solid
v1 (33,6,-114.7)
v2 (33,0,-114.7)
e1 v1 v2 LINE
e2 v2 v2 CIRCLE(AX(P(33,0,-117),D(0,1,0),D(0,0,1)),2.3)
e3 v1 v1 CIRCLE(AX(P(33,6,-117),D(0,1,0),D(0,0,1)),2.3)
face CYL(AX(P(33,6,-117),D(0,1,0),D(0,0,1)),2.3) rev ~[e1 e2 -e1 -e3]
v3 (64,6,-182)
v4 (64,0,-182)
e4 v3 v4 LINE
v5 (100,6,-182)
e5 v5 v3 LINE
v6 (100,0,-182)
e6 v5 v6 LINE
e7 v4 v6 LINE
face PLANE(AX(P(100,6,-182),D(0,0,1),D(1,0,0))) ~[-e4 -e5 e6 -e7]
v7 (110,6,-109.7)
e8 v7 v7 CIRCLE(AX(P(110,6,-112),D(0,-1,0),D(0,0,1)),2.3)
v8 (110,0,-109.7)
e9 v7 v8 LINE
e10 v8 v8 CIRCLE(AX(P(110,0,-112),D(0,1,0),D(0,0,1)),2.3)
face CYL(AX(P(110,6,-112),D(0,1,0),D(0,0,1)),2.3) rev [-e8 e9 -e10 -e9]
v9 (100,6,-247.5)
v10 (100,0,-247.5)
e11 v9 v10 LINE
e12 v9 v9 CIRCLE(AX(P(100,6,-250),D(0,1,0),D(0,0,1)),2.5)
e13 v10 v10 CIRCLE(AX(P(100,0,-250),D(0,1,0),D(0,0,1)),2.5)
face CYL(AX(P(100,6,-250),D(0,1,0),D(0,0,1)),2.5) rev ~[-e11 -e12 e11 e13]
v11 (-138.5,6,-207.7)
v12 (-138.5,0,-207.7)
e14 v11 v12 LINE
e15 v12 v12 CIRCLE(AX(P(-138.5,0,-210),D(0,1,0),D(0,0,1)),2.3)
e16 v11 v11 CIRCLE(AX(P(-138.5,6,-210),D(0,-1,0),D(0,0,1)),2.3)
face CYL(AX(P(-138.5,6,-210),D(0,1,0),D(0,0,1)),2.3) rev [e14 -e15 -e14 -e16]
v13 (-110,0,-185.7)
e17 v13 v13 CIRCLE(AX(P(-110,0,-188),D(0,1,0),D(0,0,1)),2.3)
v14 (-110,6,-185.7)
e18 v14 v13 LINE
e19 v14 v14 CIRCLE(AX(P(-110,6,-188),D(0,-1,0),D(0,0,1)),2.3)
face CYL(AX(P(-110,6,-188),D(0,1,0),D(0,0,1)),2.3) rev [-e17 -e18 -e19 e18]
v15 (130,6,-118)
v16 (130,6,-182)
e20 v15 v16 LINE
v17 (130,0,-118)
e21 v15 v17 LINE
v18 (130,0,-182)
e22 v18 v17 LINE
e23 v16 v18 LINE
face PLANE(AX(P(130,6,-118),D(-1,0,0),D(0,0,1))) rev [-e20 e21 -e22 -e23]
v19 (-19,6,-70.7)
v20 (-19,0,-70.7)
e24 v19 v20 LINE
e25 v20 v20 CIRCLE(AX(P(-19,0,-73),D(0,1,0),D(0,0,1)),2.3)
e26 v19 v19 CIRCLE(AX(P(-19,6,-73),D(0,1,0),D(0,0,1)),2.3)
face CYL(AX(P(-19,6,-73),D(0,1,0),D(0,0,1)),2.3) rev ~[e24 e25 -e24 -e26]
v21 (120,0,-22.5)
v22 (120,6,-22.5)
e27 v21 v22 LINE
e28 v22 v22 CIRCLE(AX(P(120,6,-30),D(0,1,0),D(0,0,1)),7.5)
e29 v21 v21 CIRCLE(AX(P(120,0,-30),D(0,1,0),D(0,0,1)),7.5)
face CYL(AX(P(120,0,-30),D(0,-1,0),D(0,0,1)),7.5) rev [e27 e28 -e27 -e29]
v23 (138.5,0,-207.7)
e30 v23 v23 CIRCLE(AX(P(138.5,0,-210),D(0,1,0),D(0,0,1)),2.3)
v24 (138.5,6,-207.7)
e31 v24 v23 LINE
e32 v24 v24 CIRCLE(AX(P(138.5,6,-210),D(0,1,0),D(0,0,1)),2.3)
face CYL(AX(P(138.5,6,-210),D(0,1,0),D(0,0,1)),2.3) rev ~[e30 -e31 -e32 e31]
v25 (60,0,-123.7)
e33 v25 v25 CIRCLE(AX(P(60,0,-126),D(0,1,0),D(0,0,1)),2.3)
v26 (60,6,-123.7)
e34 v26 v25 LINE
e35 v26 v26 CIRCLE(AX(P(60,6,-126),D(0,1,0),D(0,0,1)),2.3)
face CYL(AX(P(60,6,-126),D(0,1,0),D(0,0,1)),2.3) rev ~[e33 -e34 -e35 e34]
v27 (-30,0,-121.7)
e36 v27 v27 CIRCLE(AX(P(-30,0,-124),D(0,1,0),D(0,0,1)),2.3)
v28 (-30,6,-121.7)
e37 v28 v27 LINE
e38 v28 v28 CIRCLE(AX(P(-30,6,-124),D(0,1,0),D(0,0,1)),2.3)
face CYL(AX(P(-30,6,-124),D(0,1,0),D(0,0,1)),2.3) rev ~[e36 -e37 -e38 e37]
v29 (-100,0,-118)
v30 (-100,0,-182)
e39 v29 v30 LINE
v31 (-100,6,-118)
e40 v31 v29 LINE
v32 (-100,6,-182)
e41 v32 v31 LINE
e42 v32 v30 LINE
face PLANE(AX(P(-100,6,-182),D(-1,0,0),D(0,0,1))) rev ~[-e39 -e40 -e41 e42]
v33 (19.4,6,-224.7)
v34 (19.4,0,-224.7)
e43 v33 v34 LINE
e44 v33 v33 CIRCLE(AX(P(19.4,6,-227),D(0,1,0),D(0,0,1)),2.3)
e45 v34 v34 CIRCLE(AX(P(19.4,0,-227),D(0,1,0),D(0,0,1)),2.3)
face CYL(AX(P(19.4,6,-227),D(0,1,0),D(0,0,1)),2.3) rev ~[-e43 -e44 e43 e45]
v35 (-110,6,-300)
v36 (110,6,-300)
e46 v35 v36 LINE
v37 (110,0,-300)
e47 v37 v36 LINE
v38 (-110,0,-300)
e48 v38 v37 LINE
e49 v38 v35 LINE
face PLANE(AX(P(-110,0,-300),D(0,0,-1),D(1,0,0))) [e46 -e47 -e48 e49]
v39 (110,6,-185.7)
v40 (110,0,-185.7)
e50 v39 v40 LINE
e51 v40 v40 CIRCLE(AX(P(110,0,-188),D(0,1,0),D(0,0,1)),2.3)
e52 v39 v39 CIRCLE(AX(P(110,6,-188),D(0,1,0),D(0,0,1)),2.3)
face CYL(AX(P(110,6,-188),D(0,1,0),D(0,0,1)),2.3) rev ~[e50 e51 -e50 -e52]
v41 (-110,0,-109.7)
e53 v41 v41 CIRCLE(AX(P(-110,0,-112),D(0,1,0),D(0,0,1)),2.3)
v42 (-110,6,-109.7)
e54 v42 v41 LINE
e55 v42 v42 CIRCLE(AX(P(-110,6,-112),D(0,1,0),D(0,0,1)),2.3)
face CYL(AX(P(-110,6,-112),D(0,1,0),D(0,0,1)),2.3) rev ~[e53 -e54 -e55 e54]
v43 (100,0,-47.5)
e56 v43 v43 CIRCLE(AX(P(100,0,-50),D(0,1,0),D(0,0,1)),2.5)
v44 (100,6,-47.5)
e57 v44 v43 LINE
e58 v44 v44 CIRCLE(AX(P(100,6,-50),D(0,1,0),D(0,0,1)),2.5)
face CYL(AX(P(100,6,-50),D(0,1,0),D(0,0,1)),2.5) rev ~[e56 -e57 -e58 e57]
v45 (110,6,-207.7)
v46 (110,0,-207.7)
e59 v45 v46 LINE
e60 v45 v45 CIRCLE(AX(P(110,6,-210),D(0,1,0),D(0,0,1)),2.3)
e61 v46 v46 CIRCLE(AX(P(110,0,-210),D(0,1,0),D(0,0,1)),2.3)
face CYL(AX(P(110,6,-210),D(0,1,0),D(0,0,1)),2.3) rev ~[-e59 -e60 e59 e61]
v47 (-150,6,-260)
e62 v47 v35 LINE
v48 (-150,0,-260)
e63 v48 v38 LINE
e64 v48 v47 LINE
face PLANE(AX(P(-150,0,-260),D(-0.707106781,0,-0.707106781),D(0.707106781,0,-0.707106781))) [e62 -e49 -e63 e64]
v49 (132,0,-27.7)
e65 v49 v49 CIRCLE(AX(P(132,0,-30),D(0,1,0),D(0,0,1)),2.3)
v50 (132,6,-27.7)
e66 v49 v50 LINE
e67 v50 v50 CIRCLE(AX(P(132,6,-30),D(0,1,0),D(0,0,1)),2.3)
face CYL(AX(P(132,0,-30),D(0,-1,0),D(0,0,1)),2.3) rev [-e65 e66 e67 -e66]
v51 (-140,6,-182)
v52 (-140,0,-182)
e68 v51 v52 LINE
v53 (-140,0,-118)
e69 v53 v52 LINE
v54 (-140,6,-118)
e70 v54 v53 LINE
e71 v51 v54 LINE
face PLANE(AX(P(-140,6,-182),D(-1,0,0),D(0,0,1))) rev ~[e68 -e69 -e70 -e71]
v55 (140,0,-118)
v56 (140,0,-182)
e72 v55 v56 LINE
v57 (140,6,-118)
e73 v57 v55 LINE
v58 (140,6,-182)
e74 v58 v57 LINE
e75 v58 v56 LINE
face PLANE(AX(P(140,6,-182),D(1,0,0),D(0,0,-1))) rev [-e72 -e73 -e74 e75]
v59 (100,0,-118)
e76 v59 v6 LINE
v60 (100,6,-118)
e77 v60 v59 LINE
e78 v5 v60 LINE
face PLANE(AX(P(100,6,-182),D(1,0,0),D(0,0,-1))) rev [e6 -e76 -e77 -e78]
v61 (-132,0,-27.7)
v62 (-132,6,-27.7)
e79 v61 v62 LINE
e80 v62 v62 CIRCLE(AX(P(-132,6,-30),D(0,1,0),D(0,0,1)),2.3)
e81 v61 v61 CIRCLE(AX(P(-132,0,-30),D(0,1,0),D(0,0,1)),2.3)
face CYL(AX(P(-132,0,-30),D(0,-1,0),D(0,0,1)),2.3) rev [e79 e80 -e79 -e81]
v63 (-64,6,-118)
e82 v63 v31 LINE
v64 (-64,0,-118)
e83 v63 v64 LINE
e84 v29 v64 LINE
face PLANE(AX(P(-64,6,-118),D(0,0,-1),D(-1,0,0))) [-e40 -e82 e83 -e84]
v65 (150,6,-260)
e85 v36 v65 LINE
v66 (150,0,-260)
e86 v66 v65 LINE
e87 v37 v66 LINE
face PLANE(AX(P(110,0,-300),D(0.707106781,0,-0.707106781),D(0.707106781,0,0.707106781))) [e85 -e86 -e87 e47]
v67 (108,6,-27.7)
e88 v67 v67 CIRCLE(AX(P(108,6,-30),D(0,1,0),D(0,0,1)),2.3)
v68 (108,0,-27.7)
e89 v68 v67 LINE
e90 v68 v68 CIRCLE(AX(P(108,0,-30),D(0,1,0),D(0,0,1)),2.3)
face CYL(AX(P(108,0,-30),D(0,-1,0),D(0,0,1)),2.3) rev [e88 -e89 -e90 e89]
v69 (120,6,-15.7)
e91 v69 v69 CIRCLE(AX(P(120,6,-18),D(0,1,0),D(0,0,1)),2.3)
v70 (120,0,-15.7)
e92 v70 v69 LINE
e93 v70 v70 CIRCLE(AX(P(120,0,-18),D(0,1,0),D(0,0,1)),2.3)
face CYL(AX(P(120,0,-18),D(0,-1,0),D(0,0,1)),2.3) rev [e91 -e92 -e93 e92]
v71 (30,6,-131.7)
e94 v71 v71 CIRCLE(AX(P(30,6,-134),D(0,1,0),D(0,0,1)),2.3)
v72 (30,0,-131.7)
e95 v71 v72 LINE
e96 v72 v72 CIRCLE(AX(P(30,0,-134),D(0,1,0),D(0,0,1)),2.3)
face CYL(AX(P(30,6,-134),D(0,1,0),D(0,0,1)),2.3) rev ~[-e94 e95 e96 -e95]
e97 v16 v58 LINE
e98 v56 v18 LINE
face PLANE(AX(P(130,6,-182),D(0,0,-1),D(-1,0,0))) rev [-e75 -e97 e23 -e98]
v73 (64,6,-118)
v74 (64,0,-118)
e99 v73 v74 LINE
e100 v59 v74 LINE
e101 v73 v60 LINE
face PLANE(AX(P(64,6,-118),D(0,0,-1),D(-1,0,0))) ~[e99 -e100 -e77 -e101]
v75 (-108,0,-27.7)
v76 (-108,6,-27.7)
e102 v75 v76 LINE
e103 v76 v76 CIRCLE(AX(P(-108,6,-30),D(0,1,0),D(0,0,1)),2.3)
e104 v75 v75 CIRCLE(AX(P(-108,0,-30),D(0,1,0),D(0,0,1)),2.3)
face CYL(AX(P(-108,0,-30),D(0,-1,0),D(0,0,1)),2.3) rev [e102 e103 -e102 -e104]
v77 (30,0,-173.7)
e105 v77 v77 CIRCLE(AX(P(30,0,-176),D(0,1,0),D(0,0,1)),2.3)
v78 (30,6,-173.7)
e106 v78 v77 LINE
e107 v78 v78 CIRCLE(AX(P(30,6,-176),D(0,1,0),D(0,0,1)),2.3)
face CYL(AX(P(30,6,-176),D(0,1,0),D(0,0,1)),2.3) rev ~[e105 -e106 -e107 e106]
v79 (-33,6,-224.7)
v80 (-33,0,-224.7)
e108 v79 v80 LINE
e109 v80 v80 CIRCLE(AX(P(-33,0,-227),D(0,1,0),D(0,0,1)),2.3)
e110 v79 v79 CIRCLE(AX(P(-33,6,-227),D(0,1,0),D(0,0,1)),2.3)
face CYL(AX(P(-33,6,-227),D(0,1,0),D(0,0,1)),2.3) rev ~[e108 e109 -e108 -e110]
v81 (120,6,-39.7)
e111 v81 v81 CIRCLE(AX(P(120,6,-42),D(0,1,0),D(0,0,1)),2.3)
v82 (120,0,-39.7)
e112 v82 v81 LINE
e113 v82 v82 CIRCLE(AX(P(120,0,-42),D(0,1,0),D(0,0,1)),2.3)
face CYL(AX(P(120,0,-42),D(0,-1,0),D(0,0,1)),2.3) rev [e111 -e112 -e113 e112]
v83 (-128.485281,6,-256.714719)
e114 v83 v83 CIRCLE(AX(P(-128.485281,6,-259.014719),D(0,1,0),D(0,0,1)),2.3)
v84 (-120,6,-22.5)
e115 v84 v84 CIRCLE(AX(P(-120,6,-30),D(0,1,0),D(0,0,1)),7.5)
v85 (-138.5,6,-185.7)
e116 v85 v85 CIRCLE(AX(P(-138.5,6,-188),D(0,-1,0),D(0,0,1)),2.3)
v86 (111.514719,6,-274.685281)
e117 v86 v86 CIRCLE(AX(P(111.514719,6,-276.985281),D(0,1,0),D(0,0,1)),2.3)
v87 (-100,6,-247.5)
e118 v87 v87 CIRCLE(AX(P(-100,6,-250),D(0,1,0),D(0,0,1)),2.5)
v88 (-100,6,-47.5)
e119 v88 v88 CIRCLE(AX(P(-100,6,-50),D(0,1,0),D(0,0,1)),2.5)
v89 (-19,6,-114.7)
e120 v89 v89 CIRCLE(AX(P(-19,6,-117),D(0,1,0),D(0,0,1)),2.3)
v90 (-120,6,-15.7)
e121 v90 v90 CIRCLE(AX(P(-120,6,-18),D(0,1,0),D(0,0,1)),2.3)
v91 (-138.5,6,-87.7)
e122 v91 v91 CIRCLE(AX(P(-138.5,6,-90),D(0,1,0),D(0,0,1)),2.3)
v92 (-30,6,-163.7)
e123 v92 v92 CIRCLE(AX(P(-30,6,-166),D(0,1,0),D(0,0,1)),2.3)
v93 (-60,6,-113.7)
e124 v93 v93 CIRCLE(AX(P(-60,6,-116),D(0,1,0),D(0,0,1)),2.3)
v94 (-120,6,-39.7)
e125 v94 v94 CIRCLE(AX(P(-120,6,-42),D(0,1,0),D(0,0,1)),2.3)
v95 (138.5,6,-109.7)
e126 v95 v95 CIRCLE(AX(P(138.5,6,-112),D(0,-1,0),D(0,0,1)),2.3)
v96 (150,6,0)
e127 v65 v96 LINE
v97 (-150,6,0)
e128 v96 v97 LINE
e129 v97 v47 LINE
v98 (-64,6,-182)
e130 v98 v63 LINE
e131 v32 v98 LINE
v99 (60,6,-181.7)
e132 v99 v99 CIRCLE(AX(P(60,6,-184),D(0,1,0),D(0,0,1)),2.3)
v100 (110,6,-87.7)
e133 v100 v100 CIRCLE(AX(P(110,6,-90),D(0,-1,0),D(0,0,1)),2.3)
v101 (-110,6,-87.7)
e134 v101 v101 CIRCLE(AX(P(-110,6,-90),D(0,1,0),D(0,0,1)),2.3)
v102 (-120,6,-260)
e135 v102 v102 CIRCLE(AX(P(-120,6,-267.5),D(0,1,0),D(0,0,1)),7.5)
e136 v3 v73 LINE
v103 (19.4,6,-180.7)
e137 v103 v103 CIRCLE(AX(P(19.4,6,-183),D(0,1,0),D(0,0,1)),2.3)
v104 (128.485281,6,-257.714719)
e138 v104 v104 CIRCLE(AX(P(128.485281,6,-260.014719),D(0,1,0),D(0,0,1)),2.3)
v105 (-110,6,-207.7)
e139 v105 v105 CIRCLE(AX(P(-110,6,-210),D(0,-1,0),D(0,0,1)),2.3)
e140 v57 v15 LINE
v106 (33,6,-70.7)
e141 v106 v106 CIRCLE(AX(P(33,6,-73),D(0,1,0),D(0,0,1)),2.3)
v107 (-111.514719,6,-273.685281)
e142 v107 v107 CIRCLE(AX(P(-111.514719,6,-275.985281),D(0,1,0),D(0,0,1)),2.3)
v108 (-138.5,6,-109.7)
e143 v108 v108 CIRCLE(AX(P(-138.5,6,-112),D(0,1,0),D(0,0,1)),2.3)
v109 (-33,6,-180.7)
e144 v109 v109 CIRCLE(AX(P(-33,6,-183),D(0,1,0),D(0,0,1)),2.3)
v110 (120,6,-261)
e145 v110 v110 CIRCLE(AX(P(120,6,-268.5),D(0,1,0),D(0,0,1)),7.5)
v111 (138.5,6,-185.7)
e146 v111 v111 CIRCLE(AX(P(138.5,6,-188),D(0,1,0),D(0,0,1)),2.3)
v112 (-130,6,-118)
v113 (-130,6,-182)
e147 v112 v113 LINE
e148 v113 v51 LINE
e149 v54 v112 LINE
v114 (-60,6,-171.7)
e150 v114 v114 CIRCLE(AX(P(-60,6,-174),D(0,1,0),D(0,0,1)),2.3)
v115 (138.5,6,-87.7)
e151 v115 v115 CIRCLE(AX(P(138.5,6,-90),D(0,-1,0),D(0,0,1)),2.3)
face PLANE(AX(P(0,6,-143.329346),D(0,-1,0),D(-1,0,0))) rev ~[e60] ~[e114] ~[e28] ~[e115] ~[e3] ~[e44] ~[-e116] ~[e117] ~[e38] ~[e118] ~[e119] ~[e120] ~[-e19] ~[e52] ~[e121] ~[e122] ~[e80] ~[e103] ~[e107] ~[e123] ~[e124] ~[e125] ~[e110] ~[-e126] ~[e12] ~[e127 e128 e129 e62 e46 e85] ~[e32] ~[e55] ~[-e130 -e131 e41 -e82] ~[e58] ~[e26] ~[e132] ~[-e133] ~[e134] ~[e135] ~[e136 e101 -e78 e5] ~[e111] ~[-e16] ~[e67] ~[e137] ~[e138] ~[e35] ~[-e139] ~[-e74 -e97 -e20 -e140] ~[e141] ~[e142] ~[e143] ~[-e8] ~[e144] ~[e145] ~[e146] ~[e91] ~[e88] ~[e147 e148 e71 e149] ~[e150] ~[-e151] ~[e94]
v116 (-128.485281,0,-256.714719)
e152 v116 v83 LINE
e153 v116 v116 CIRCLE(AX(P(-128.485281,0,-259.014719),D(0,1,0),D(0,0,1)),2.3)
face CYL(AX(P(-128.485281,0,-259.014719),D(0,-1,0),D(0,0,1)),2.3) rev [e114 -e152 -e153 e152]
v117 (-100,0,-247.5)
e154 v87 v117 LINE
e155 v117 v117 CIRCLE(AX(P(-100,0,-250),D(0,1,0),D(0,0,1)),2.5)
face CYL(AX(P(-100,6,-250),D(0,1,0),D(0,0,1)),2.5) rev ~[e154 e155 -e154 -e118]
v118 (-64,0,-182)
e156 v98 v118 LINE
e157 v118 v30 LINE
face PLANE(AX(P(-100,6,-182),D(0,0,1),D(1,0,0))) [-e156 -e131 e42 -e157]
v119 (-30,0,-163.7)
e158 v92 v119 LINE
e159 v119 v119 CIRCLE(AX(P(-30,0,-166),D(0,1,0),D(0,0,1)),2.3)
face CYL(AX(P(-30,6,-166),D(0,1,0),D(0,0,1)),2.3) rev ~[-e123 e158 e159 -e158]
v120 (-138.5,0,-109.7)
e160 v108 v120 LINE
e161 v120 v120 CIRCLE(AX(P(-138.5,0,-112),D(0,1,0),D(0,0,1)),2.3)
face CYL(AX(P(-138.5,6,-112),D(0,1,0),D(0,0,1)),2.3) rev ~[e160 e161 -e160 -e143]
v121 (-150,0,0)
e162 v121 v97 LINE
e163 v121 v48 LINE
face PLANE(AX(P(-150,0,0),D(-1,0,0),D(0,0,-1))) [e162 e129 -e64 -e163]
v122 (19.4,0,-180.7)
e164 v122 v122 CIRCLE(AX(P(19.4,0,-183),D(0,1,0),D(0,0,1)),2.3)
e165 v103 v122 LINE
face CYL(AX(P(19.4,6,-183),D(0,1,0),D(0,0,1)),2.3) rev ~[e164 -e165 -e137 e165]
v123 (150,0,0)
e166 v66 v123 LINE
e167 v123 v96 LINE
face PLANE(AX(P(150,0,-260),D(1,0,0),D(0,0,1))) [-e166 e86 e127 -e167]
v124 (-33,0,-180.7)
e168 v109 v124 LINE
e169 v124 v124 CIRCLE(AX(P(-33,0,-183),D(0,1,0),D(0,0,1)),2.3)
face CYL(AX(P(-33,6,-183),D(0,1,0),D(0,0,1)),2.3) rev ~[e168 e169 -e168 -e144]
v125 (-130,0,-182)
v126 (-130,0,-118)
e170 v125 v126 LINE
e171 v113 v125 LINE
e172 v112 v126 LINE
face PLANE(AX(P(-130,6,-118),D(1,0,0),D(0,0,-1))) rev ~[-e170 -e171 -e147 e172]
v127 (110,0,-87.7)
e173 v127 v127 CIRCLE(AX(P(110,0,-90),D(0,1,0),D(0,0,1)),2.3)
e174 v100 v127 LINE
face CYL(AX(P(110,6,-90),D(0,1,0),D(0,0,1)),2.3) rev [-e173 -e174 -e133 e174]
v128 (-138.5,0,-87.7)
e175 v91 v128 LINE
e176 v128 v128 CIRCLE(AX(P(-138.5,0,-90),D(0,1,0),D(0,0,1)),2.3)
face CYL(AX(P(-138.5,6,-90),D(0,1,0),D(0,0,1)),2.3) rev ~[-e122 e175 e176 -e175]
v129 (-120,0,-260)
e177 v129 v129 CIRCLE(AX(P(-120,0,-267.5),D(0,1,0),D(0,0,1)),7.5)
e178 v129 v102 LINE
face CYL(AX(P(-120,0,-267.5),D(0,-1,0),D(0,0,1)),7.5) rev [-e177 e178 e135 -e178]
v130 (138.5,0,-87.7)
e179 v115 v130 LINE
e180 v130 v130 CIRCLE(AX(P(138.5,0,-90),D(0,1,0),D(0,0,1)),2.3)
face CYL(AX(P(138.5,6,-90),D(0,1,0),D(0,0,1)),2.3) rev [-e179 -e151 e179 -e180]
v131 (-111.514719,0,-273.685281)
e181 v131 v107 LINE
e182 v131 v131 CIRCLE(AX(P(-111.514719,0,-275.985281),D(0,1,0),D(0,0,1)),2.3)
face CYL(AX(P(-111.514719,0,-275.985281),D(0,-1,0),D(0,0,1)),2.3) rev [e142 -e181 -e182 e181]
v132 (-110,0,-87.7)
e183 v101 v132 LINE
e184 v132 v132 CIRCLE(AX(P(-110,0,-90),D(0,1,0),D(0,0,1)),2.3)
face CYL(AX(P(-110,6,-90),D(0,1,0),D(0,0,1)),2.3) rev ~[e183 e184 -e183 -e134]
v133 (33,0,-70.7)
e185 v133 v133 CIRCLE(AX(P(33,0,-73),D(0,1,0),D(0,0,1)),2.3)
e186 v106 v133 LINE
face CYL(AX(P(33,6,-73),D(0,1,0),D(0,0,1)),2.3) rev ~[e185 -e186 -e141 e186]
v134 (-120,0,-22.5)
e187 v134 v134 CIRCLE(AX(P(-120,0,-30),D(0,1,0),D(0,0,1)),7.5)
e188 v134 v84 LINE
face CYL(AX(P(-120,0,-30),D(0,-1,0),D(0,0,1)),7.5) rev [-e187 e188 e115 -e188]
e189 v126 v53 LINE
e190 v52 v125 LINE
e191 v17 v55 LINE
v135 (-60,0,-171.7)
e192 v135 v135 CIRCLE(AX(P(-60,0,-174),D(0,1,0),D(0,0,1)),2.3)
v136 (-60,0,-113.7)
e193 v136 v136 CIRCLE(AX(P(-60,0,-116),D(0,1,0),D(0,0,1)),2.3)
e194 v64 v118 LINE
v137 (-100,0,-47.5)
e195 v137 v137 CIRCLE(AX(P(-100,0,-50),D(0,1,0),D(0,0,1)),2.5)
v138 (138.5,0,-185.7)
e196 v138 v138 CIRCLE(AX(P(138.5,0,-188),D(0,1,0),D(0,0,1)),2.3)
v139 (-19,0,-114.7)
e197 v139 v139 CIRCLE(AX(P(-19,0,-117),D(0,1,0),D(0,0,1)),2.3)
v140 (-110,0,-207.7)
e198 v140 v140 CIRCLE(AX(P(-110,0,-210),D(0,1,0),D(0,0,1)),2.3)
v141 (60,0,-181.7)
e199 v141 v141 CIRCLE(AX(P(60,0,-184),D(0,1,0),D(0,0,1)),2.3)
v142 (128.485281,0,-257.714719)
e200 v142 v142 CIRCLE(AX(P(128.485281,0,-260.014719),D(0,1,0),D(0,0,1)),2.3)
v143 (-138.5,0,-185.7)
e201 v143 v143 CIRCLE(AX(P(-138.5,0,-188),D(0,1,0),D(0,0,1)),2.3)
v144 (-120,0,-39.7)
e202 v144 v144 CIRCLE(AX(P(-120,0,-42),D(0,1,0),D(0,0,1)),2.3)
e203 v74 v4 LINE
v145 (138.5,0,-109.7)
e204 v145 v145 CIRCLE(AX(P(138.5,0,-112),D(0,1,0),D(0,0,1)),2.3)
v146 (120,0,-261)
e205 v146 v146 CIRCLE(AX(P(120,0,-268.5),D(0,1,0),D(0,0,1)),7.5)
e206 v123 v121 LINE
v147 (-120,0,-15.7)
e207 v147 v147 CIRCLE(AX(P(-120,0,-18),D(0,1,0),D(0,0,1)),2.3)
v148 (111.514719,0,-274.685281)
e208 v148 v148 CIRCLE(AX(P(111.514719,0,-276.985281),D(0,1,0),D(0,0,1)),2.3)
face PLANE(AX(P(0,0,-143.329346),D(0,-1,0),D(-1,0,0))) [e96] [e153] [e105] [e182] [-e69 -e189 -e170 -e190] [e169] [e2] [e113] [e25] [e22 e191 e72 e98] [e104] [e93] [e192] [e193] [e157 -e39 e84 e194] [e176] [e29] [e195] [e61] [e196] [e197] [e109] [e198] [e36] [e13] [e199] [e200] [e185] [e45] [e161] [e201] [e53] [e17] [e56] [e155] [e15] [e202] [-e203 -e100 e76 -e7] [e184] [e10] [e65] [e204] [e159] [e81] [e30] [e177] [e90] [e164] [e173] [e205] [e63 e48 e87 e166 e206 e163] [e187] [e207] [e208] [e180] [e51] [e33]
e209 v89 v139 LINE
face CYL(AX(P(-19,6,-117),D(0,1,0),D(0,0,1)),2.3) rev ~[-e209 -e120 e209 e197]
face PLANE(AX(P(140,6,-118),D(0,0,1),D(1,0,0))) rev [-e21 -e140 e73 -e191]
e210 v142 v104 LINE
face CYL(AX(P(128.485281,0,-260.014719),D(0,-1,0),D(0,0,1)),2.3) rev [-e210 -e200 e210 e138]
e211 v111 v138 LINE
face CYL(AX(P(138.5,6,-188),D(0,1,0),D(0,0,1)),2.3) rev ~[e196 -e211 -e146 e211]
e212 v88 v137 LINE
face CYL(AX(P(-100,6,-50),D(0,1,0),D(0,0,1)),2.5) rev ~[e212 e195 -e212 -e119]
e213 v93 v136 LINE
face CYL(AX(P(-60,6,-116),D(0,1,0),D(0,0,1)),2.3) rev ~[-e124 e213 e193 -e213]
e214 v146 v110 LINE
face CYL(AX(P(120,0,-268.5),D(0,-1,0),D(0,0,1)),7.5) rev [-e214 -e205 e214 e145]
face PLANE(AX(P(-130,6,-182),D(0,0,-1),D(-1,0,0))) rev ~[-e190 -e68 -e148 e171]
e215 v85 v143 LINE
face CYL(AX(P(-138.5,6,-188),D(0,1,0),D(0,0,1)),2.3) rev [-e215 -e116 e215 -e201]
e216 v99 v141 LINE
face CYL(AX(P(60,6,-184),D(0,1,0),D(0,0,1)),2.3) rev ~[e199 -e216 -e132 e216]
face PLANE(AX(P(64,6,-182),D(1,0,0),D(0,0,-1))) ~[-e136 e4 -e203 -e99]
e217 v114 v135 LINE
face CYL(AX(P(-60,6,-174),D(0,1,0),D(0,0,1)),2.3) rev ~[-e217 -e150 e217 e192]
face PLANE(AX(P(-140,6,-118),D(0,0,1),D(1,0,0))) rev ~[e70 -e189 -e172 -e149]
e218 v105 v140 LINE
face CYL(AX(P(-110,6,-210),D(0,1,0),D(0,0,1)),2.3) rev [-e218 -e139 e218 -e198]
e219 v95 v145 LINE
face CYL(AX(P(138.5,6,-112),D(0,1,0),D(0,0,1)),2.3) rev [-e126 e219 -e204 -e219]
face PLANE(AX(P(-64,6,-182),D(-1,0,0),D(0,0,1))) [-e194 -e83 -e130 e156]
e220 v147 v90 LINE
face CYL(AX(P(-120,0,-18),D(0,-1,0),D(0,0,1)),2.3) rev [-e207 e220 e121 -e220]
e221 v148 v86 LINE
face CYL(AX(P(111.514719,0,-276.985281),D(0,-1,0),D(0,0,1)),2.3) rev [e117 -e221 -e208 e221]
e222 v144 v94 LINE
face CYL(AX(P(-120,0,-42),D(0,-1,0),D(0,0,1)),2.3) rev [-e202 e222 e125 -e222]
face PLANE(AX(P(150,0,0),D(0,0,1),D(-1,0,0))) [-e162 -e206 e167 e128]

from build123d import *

# Parameters (mm, degrees)
ESQUISSE1_R              = 7.5
ESQUISSE1_R_2            = 2.3
BOSS_EXTRU_1_DEPTH       = 6
ENL_V_MAT_EXTRU_9_DEPTH  = 10.5
ESQUISSE6_R              = 2.3
ENL_V_MAT_EXTRU_10_DEPTH = 50
ENL_V_MAT_EXTRU_11_DEPTH = 50
ESQUISSE9_R              = 2.5
ENL_V_MAT_EXTRU_12_DEPTH = 35
ESQUISSE3_R              = 2.3
ENL_V_MAT_EXTRU_13_DEPTH = 35
ESQUISSE10_R             = 2.3
ENL_V_MAT_EXTRU_14_DEPTH = 10


with BuildPart() as part:
    # Esquisse1 → Boss.-Extru.1 (new body)
    with BuildSketch(Plane(origin=(0, 0, 0), x_dir=(1, 0, 0), z_dir=(0, 1, 0))):
        Polygon((-150, 0), (-150, 260), (-110, 300), (110, 300), (150, 260), (150, 0), align=None)
        with Locations(Location((-120, 30, 0), (0, 0, 270))):
            Circle(ESQUISSE1_R, mode=Mode.SUBTRACT)
        with Locations(Location((-120, 267.5, 0), (0, 0, 270))):
            Circle(ESQUISSE1_R, mode=Mode.SUBTRACT)
        with Locations(Location((120, 268.5, 0), (0, 0, 270))):
            Circle(ESQUISSE1_R, mode=Mode.SUBTRACT)
        with Locations(Location((-111.514718626, 275.985281374, 0), (0, 0, 270))):
            Circle(ESQUISSE1_R_2, mode=Mode.SUBTRACT)
        with Locations(Location((-128.485281374, 259.014718626, 0), (0, 0, 270))):
            Circle(ESQUISSE1_R_2, mode=Mode.SUBTRACT)
        with Locations(Location((111.514718626, 276.985281374, 0), (0, 0, 270))):
            Circle(ESQUISSE1_R_2, mode=Mode.SUBTRACT)
        with Locations(Location((128.485281374, 260.014718626, 0), (0, 0, 270))):
            Circle(ESQUISSE1_R_2, mode=Mode.SUBTRACT)
        with Locations(Location((120, 30, 0), (0, 0, 270))):
            Circle(ESQUISSE1_R, mode=Mode.SUBTRACT)
        with Locations(Location((120, 42, 0), (0, 0, 270))):
            Circle(ESQUISSE1_R_2, mode=Mode.SUBTRACT)
        with Locations(Location((-120, 42, 0), (0, 0, 270))):
            Circle(ESQUISSE1_R_2, mode=Mode.SUBTRACT)
        with Locations(Location((-120, 18, 0), (0, 0, 270))):
            Circle(ESQUISSE1_R_2, mode=Mode.SUBTRACT)
        with Locations(Location((-132, 30, 0), (0, 0, 270))):
            Circle(ESQUISSE1_R_2, mode=Mode.SUBTRACT)
        with Locations(Location((-108, 30, 0), (0, 0, 270))):
            Circle(ESQUISSE1_R_2, mode=Mode.SUBTRACT)
        with Locations(Location((108, 30, 0), (0, 0, 270))):
            Circle(ESQUISSE1_R_2, mode=Mode.SUBTRACT)
        with Locations(Location((132, 30, 0), (0, 0, 270))):
            Circle(ESQUISSE1_R_2, mode=Mode.SUBTRACT)
        with Locations(Location((120, 18, 0), (0, 0, 270))):
            Circle(ESQUISSE1_R_2, mode=Mode.SUBTRACT)
    extrude(amount=BOSS_EXTRU_1_DEPTH)

    # Esquisse7 → Enlèv. mat.-Extru.9 (cut)
    with BuildSketch(Plane(origin=(0, 6, 0), x_dir=(1, 0, 0), z_dir=(0, 1, 0))):
        Polygon((-130, 150), (-130, 182), (-140, 182), (-140, 118), (-130, 118), align=None)
    enl_v_mat_extru_9 = extrude(amount=-ENL_V_MAT_EXTRU_9_DEPTH, mode=Mode.SUBTRACT)

    # Esquisse6 → Enlèv. mat.-Extru.10 (cut)
    with BuildSketch(Plane(origin=(0, 6, 0), x_dir=(1, 0, 0), z_dir=(0, 1, 0))):
        with Locations(Location((110, 210, 0), (0, 0, 270))):
            Circle(ESQUISSE6_R)
        with Locations(Location((138.5, 210, 0), (0, 0, 270))):
            Circle(ESQUISSE6_R)
        with Locations(Location((138.5, 188, 0), (0, 0, 270))):
            Circle(ESQUISSE6_R)
        with Locations(Location((110, 188, 0), (0, 0, 270))):
            Circle(ESQUISSE6_R)
        with Locations(Location((-138.5, 90, 0), (0, 0, 270))):
            Circle(ESQUISSE6_R)
        with Locations(Location((-138.5, 112, 0), (0, 0, 270))):
            Circle(ESQUISSE6_R)
        with Locations(Location((-110, 112, 0), (0, 0, 270))):
            Circle(ESQUISSE6_R)
        with Locations(Location((-110, 90, 0), (0, 0, 270))):
            Circle(ESQUISSE6_R)
    enl_v_mat_extru_10 = extrude(amount=-ENL_V_MAT_EXTRU_10_DEPTH, mode=Mode.SUBTRACT)

    # Esquisse4 → Enlèv. mat.-Extru.11 (cut)
    with BuildSketch(Plane(origin=(0, 6, 0), x_dir=(1, 0, 0), z_dir=(0, 1, 0))):
        Polygon((-100, 150), (-100, 182), (-64, 182), (-64, 118), (-100, 118), align=None)
    enl_v_mat_extru_11 = extrude(amount=-ENL_V_MAT_EXTRU_11_DEPTH, mode=Mode.SUBTRACT)

    # Symétrie1: Enlèv. mat.-Extru.9 across plane
    add(enl_v_mat_extru_9.mirror(Plane(origin=(0, 0, 0), x_dir=(0, 0, 1), z_dir=(1, 0, 0))), mode=Mode.SUBTRACT)

    # Symétrie2: Enlèv. mat.-Extru.11 across plane
    add(enl_v_mat_extru_11.mirror(Plane(origin=(0, 0, 0), x_dir=(0, 0, 1), z_dir=(1, 0, 0))), mode=Mode.SUBTRACT)

    # Symétrie3: Enlèv. mat.-Extru.10 across plane
    add(enl_v_mat_extru_10.mirror(Plane(origin=(0, 0, 0), x_dir=(0, 0, 1), z_dir=(1, 0, 0))), mode=Mode.SUBTRACT)

    # Esquisse9 → Enlèv. mat.-Extru.12 (cut)
    with BuildSketch(Plane(origin=(0, 6, 0), x_dir=(1, 0, 0), z_dir=(0, 1, 0))):
        with Locations(Location((-100, 50, 0), (0, 0, 270))):
            Circle(ESQUISSE9_R)
        with Locations(Location((100, 50, 0), (0, 0, 270))):
            Circle(ESQUISSE9_R)
        with Locations(Location((100, 250, 0), (0, 0, 270))):
            Circle(ESQUISSE9_R)
        with Locations(Location((-100, 250, 0), (0, 0, 270))):
            Circle(ESQUISSE9_R)
    extrude(amount=-ENL_V_MAT_EXTRU_12_DEPTH, mode=Mode.SUBTRACT)

    # Esquisse3 → Enlèv. mat.-Extru.13 (cut)
    with BuildSketch(Plane(origin=(0, 6, 0), x_dir=(1, 0, 0), z_dir=(0, 1, 0))):
        with Locations(Location((-60, 174, 0), (0, 0, 270))):
            Circle(ESQUISSE3_R)
        with Locations(Location((-60, 116, 0), (0, 0, 270))):
            Circle(ESQUISSE3_R)
        with Locations(Location((-30, 166, 0), (0, 0, 270))):
            Circle(ESQUISSE3_R)
        with Locations(Location((-30, 124, 0), (0, 0, 270))):
            Circle(ESQUISSE3_R)
        with Locations(Location((60, 184, 0), (0, 0, 270))):
            Circle(ESQUISSE3_R)
        with Locations(Location((30, 176, 0), (0, 0, 270))):
            Circle(ESQUISSE3_R)
        with Locations(Location((30, 134, 0), (0, 0, 270))):
            Circle(ESQUISSE3_R)
        with Locations(Location((60, 126, 0), (0, 0, 270))):
            Circle(ESQUISSE3_R)
    extrude(amount=-ENL_V_MAT_EXTRU_13_DEPTH, mode=Mode.SUBTRACT)

    # Esquisse10 → Enlèv. mat.-Extru.14 (cut)
    with BuildSketch(Plane(origin=(0, 6, 0), x_dir=(1, 0, 0), z_dir=(0, 1, 0))):
        with Locations(Location((-33, 227, 0), (0, 0, 270))):
            Circle(ESQUISSE10_R)
        with Locations(Location((-19, 73, 0), (0, 0, 270))):
            Circle(ESQUISSE10_R)
        with Locations(Location((33, 73, 0), (0, 0, 270))):
            Circle(ESQUISSE10_R)
        with Locations(Location((-33, 183, 0), (0, 0, 270))):
            Circle(ESQUISSE10_R)
        with Locations(Location((33, 117, 0), (0, 0, 270))):
            Circle(ESQUISSE10_R)
        with Locations(Location((-19, 117, 0), (0, 0, 270))):
            Circle(ESQUISSE10_R)
        with Locations(Location((19.4, 227, 0), (0, 0, 270))):
            Circle(ESQUISSE10_R)
        with Locations(Location((19.4, 183, 0), (0, 0, 270))):
            Circle(ESQUISSE10_R)
    extrude(amount=-ENL_V_MAT_EXTRU_14_DEPTH, mode=Mode.SUBTRACT)


solid = part.part
